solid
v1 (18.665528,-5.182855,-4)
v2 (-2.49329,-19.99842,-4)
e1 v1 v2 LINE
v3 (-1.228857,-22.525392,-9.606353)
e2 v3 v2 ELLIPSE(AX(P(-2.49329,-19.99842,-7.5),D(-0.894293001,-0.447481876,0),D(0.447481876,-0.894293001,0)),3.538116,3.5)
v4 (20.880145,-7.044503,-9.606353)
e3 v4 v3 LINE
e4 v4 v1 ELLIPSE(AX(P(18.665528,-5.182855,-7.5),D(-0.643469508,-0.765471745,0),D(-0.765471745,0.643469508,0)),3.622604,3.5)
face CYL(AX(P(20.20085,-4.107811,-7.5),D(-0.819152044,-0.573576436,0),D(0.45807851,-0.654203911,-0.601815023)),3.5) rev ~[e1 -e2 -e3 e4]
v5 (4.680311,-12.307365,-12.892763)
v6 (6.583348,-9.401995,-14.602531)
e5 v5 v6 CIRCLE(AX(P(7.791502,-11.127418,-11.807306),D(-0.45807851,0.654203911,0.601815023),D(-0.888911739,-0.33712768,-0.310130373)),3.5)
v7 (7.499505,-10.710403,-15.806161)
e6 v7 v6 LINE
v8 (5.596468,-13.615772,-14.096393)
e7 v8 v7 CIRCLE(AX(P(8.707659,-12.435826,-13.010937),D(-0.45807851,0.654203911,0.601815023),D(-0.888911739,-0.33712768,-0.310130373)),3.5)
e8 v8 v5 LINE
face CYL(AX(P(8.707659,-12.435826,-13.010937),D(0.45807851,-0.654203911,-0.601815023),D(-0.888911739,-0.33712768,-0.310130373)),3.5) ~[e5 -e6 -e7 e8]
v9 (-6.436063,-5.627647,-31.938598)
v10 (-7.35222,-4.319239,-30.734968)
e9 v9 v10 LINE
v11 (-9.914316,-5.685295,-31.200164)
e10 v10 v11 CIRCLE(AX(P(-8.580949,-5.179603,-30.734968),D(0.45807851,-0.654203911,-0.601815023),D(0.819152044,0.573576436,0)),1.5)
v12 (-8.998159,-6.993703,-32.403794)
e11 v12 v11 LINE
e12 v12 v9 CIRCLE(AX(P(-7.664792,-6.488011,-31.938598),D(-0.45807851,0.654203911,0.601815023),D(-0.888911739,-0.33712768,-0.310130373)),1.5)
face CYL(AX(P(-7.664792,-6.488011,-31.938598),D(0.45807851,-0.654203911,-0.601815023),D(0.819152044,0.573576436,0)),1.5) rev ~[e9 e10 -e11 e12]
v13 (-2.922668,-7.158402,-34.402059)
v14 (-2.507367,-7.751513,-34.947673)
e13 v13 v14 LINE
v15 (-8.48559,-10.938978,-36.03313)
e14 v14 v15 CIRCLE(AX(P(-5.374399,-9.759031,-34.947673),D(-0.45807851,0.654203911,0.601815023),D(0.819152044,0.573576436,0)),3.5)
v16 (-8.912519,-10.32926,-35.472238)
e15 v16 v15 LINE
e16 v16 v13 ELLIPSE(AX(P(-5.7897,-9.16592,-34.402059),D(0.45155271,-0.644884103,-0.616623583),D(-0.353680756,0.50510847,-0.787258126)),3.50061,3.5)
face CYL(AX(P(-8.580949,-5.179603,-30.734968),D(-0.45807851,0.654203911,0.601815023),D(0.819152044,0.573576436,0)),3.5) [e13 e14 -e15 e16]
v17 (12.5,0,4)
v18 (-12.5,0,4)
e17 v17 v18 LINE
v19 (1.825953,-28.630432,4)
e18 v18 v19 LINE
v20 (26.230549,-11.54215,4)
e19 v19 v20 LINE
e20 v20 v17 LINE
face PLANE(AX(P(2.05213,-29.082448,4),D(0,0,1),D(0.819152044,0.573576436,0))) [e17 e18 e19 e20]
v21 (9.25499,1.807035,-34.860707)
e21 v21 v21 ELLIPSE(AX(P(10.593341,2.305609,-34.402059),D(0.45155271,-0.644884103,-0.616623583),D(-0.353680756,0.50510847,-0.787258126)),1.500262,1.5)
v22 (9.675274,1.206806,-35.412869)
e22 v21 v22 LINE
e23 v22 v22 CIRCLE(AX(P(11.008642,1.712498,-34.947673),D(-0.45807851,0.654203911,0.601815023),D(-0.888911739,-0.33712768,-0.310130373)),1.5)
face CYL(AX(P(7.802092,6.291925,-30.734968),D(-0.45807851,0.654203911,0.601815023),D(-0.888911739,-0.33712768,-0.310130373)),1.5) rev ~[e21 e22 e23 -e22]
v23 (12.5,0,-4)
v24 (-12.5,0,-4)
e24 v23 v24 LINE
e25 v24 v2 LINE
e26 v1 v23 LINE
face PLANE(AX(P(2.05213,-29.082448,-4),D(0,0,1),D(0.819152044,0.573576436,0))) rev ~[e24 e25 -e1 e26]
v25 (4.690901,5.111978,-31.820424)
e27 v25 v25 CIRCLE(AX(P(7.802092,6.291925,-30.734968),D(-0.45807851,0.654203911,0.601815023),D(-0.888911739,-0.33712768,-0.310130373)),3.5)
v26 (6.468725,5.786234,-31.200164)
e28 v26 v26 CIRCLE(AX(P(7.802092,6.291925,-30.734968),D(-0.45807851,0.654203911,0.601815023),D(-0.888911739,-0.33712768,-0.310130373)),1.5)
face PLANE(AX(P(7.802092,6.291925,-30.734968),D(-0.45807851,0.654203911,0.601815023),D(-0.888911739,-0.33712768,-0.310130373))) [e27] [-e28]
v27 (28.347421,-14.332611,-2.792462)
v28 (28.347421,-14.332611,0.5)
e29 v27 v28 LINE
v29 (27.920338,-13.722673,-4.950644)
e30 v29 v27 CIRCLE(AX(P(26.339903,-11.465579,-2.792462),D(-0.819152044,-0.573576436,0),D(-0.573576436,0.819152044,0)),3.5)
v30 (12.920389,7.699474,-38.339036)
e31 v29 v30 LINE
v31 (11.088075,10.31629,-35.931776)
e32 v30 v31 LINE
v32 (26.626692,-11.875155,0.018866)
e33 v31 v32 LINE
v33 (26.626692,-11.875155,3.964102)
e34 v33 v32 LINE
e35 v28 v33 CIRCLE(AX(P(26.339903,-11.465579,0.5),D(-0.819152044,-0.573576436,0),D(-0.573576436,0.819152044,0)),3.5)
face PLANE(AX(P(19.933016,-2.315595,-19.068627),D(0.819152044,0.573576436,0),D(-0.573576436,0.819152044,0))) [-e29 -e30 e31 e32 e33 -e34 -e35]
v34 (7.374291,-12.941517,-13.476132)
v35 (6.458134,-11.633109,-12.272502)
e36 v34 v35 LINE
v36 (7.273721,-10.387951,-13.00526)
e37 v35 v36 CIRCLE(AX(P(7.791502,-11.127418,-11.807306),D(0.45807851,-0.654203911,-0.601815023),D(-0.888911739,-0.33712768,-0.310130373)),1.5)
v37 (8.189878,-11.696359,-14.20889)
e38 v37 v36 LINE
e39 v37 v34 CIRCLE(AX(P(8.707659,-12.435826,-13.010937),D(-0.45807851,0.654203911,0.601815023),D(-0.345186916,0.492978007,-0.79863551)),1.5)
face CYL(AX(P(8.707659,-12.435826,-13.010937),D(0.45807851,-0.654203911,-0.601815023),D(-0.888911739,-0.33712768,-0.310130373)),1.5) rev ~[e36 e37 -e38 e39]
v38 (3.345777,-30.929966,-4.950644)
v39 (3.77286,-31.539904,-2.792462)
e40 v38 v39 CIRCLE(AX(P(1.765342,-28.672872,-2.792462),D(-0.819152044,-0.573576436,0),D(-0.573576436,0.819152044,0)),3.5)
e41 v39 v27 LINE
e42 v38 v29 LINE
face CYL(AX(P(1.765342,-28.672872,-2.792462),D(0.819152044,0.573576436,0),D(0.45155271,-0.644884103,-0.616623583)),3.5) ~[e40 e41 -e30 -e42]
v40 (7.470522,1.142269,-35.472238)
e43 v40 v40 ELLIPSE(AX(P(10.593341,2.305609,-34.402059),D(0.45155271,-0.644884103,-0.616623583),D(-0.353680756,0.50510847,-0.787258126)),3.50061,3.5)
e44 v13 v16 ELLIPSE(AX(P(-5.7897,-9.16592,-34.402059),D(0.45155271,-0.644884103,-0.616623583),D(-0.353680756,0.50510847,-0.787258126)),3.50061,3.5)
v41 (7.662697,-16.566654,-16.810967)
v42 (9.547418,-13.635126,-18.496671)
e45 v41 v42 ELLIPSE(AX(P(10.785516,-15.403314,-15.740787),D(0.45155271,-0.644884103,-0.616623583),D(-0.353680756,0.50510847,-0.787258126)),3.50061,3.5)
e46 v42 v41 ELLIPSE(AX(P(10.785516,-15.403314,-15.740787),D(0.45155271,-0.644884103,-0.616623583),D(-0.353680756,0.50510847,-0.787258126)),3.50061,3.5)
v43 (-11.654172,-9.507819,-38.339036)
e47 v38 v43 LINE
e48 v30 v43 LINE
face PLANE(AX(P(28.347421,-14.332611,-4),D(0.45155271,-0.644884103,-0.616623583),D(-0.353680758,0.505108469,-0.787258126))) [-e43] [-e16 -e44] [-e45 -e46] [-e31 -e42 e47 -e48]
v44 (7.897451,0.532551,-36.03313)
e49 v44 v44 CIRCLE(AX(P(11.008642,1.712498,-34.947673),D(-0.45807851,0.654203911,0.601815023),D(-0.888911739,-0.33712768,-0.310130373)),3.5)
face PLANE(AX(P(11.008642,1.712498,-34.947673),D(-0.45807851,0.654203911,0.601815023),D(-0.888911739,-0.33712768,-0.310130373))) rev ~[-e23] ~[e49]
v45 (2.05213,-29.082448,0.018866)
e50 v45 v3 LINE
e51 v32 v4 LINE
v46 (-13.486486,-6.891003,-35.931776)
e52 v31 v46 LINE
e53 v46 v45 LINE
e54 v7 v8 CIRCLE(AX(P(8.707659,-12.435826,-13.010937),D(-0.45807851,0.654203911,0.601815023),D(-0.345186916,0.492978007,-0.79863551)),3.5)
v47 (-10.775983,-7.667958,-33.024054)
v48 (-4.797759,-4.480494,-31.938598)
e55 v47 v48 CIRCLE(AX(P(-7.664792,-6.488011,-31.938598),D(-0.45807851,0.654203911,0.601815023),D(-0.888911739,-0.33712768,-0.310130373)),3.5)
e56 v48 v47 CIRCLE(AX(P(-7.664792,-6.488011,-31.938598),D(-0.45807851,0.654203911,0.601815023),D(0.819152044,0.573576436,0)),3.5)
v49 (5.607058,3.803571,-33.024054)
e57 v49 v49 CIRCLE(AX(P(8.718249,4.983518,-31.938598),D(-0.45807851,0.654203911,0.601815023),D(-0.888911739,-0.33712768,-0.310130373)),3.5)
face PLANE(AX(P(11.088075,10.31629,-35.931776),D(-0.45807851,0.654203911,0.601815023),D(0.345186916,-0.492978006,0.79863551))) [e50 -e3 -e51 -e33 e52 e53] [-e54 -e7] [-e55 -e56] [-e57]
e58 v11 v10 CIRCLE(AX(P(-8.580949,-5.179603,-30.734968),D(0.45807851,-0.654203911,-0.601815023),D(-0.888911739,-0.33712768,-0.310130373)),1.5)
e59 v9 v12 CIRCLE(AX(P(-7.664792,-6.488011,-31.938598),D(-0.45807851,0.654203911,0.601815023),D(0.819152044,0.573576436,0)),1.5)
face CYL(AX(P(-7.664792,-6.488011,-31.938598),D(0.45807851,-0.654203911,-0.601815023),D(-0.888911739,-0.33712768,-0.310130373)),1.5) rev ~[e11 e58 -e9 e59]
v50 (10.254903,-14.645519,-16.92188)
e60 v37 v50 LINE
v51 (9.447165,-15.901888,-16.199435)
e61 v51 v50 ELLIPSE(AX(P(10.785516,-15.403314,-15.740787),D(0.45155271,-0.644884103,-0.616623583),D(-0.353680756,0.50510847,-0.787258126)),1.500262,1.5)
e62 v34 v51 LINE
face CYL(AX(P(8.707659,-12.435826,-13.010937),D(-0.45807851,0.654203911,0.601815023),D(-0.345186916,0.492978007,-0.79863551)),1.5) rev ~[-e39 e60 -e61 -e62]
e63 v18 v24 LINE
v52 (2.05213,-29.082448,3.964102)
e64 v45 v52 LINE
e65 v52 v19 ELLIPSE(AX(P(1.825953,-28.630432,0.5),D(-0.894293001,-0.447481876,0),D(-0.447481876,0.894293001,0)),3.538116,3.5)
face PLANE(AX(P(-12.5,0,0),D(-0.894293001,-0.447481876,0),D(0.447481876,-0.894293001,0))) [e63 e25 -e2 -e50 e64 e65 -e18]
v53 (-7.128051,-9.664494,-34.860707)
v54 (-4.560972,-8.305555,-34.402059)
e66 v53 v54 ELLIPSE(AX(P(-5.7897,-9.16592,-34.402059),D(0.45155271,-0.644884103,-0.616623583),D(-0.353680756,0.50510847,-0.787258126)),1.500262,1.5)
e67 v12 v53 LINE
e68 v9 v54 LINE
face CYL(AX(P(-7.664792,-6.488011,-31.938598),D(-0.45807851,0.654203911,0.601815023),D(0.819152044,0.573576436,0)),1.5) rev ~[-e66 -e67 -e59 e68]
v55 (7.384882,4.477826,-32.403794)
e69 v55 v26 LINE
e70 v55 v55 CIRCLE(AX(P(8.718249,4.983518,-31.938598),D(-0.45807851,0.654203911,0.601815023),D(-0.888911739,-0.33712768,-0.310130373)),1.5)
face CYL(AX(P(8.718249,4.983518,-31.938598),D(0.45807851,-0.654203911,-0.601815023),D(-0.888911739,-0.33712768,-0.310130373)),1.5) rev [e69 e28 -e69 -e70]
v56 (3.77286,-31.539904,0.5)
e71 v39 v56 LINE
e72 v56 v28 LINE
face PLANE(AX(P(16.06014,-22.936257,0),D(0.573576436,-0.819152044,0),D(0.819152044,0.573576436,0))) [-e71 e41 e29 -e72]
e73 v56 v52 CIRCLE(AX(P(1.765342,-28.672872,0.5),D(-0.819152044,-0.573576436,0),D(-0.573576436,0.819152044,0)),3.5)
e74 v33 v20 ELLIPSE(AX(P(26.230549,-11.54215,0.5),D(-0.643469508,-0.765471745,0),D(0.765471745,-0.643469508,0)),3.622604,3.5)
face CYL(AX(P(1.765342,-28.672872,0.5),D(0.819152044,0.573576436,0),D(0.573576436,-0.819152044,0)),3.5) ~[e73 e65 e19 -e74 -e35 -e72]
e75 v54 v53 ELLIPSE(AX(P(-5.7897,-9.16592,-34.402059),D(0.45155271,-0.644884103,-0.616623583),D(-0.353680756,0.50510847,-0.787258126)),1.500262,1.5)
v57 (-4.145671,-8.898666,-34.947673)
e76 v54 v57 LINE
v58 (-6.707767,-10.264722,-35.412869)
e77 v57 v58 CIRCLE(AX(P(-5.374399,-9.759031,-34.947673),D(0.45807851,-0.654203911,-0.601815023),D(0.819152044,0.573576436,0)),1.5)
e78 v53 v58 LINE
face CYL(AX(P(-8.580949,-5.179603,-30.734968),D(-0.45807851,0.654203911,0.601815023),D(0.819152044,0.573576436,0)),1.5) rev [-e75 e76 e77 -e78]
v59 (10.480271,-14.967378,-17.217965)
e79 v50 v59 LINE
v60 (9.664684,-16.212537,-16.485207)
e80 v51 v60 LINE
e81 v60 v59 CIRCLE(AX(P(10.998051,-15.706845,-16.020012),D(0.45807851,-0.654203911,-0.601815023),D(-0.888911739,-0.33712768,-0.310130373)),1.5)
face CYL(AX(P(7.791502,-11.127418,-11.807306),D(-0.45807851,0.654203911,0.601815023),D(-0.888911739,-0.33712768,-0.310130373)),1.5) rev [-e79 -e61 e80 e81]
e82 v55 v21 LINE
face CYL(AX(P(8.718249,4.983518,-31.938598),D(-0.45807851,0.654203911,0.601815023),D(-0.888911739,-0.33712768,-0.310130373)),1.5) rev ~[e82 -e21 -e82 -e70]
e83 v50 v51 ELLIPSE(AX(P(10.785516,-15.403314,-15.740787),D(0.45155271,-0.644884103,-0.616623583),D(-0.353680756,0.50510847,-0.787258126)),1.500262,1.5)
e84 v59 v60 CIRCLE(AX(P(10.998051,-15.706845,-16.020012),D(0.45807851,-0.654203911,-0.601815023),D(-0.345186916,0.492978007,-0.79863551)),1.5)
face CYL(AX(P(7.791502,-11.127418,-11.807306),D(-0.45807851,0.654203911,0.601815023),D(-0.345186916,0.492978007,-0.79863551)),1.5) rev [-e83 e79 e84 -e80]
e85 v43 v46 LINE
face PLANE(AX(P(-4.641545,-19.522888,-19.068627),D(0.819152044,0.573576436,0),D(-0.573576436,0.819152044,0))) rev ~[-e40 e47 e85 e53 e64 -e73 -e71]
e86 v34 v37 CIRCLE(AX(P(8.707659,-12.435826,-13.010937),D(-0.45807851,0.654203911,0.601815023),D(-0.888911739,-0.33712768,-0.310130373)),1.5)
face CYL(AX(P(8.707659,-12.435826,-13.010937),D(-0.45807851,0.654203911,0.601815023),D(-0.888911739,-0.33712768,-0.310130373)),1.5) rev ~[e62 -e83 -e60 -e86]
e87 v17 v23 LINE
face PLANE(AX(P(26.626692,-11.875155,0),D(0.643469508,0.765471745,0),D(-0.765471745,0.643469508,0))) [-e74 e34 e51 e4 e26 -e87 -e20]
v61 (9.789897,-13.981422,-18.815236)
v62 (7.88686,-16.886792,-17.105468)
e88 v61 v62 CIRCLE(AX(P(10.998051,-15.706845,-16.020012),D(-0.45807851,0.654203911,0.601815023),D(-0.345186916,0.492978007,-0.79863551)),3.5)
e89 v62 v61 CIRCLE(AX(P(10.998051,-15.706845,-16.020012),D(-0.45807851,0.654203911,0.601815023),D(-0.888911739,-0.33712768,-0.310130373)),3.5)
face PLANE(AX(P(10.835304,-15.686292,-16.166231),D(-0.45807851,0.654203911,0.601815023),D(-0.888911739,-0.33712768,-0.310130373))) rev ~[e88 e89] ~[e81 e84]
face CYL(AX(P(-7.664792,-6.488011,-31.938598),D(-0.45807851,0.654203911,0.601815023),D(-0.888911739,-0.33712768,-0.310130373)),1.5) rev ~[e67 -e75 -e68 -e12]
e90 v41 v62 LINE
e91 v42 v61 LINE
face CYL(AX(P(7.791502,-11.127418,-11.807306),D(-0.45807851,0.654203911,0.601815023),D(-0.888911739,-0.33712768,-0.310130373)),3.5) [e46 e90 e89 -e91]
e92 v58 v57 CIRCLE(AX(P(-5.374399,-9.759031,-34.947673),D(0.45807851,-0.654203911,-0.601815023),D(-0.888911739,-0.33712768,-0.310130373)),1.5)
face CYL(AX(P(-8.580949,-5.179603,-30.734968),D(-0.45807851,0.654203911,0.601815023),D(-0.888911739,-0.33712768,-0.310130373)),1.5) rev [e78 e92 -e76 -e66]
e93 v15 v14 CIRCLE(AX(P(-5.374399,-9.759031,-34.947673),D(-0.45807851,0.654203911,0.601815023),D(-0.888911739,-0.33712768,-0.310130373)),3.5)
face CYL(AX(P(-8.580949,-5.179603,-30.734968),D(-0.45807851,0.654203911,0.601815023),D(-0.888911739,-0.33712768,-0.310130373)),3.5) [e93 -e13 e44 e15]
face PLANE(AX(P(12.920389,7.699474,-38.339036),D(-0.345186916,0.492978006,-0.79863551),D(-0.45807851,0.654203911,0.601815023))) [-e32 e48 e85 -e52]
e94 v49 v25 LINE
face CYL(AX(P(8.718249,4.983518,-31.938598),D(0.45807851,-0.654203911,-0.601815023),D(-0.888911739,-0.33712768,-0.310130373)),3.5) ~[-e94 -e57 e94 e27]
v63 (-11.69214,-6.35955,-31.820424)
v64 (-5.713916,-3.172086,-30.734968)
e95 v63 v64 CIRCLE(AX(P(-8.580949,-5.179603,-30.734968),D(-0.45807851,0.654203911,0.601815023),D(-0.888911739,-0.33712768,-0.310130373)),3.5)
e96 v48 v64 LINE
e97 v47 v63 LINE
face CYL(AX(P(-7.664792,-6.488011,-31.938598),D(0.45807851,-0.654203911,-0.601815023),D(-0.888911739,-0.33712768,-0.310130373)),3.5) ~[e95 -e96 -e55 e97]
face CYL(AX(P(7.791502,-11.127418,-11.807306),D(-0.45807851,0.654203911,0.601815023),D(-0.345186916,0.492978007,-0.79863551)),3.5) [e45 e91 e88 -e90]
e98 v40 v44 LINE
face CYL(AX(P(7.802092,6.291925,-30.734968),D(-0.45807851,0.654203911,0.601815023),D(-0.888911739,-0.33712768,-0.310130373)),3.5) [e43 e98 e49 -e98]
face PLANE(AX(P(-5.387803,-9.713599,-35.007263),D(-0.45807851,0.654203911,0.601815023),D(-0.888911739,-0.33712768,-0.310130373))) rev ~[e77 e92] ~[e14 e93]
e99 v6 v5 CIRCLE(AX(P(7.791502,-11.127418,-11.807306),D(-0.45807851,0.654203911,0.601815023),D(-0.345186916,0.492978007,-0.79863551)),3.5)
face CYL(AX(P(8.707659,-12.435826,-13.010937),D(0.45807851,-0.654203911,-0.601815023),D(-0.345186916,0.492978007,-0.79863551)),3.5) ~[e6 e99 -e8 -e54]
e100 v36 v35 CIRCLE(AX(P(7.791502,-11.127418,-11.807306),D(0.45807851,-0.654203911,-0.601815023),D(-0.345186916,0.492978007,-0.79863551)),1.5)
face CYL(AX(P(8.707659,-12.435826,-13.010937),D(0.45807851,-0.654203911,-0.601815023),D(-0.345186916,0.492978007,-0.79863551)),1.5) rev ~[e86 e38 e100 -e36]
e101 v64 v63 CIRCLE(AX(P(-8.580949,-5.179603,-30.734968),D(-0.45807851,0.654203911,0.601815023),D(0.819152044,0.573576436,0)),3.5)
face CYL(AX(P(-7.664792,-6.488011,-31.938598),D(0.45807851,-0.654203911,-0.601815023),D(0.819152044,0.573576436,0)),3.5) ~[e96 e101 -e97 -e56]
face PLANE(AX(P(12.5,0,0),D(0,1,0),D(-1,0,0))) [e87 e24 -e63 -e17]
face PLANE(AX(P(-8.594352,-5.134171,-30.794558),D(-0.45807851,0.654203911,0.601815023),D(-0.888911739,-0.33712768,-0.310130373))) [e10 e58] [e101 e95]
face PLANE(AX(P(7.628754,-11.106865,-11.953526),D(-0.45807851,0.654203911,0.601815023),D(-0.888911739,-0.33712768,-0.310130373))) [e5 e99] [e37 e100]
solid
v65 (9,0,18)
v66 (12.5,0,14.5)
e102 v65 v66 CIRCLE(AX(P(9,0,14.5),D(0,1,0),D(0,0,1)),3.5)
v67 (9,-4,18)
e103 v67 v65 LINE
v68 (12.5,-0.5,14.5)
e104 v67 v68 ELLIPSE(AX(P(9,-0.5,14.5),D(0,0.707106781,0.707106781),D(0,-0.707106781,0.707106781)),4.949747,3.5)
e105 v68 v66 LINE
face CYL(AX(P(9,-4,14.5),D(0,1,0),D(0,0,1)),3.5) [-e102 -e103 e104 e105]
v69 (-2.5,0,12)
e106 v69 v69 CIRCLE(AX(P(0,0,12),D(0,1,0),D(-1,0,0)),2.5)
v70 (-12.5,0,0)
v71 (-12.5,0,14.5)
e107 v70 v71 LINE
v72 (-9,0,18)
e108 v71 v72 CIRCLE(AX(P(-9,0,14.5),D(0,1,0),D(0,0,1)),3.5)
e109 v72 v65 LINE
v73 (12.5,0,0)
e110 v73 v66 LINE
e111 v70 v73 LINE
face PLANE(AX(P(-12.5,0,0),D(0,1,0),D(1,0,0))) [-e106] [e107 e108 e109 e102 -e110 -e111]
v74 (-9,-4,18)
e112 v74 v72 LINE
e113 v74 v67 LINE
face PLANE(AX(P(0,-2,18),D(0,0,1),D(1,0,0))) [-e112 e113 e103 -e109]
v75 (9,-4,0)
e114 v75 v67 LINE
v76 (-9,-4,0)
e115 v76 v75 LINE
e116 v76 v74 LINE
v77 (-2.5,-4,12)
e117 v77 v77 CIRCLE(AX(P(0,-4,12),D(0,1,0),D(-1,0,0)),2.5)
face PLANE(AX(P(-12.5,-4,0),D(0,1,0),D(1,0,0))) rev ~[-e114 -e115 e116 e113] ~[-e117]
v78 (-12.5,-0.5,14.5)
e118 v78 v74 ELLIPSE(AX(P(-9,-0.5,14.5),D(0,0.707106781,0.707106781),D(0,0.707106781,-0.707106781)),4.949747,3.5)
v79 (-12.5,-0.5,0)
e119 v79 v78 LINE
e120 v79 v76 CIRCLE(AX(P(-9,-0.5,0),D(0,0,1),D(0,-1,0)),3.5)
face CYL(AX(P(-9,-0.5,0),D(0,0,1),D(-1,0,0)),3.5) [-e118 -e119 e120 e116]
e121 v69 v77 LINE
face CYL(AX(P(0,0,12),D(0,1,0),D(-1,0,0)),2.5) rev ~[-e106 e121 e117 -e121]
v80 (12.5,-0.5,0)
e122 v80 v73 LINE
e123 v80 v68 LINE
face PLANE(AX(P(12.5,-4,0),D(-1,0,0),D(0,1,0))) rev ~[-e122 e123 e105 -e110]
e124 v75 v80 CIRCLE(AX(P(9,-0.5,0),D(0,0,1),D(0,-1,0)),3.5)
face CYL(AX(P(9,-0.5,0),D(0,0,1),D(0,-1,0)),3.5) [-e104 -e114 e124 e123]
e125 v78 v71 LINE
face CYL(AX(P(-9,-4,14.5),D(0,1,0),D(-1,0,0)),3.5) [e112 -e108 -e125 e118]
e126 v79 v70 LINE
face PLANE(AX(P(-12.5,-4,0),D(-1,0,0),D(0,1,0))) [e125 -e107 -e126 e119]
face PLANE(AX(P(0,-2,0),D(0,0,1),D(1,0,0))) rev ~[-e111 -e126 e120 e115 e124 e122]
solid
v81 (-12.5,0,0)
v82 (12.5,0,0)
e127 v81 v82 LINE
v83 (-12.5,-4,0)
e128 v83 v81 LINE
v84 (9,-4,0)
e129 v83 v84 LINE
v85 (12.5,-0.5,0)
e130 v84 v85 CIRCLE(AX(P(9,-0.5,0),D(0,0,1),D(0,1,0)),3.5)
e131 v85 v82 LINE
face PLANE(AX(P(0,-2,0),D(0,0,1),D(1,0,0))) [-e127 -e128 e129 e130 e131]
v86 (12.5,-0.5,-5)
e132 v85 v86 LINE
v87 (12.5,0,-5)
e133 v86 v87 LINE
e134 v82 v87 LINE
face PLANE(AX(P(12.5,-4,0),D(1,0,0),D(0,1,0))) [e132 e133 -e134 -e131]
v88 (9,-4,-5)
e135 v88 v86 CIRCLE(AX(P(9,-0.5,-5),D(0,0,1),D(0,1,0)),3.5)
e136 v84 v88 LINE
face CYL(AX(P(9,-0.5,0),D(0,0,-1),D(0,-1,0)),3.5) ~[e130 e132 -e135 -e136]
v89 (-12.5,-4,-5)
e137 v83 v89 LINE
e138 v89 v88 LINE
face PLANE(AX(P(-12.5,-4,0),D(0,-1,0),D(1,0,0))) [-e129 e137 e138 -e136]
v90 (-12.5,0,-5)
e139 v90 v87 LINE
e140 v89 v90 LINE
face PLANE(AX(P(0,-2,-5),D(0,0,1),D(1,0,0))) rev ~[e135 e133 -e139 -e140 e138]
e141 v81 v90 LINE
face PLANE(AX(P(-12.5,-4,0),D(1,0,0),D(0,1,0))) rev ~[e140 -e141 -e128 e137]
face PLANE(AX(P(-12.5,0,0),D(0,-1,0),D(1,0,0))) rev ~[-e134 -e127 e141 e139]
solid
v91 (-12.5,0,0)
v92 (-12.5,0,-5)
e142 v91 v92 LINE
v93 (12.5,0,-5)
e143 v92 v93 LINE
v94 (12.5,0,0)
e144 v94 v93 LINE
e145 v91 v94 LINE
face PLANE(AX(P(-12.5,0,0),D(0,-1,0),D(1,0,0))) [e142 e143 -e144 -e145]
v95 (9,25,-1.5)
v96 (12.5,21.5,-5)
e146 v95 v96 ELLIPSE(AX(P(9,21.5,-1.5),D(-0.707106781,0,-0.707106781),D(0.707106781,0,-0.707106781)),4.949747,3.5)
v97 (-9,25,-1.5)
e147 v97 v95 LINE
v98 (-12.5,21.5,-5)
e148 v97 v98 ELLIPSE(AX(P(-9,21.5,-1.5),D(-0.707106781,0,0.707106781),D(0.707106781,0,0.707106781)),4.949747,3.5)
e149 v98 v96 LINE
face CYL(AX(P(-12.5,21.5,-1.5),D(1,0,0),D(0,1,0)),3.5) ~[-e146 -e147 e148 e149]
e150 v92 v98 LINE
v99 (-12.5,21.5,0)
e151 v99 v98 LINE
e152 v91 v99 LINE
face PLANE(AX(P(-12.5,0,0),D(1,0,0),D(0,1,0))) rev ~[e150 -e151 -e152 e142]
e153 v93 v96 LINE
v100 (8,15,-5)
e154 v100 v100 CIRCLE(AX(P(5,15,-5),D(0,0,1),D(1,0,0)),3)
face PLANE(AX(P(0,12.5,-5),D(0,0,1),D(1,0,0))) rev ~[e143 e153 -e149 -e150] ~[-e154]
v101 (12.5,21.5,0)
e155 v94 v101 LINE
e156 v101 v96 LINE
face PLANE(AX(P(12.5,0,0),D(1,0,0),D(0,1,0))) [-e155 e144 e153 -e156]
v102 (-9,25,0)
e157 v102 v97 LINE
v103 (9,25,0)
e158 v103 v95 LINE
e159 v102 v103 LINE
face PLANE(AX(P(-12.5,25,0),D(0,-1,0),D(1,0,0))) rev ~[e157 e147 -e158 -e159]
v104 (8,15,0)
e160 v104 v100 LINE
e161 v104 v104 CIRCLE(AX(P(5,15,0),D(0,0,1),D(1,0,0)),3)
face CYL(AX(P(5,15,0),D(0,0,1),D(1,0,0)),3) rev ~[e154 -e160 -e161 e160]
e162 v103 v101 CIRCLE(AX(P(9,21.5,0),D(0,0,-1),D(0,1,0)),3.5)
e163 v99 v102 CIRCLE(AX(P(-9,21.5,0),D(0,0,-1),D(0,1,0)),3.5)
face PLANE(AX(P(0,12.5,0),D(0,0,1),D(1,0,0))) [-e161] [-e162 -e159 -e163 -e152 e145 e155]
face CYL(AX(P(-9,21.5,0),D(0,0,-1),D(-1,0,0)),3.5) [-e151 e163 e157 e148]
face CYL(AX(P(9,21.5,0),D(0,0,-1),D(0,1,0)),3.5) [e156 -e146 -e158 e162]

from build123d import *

# Parameters (mm, degrees)
F0_W      = 25
F0_H      = 25
F0_R      = 3
F1_DEPTH  = 5
F0_H_2    = 4
F2_DEPTH  = 18
F3_DEPTH  = 5
F4_R      = 2.5
F5_DEPTH  = 4
F7_DEPTH  = 4
F8_W      = 30
F8_H      = 8
F9_DEPTH  = 3
F11_DEPTH = 30
F12_R     = 3.5
F12_2_R   = 3.5
F12_3_R   = 3.5
F12_4_R   = 3.5
F13_R     = 3.5
F13_R_2   = 1.5
F14_DEPTH = 2
F15_DEPTH = 10
F16_DEPTH = 7


with BuildPart() as f1:
    # F0 (on Top) → F1 (new body)
    with BuildSketch(Plane.XY):
        with Locations((0, 12.5)):
            Rectangle(F0_W, F0_H)
        with Locations((5, 15)):
            Circle(F0_R, mode=Mode.SUBTRACT)
    extrude(amount=-F1_DEPTH)

    # F12
    f12_edges = [f1.edges().sort_by_distance(p)[0] for p in [
        (0, 25, -5),
        (12.5, 25, -2.5),
        (-12.5, 25, -2.5),
    ]]
    fillet(f12_edges, radius=F12_R)


with BuildPart() as f2:
    # F0 (on Top) → F2 (new body)
    with BuildSketch(Plane.XY):
        with Locations((0, -2)):
            Rectangle(F0_W, F0_H_2)
    extrude(amount=F2_DEPTH)


with BuildPart() as f3:
    # F3 (new): a face of the model
    f3_faces = [f2.part.faces().sort_by_distance(p)[0] for p in [
        (0, -2, 0),
    ]]
    extrude(f3_faces, amount=F3_DEPTH)

    # F12#3
    f12_3_edges = [f3.edges().sort_by_distance(p)[0] for p in [
        (12.5, -4, -2.5),
    ]]
    fillet(f12_3_edges, radius=F12_3_R)


with BuildPart() as f2_1:
    add(f2.part)

    # F4 (on face) → F5 (cut)
    with BuildSketch(Plane(origin=(0, 0, 0), x_dir=(-1, 0, 0), z_dir=(0, 1, 0))):
        with Locations((0, 12)):
            Circle(F4_R)
    extrude(amount=-F5_DEPTH, mode=Mode.SUBTRACT)

    # F12#2
    f12_2_edges = [f2_1.edges().sort_by_distance(p)[0] for p in [
        (12.5, -4, 9),
        (-12.5, -2, 18),
        (12.5, -2, 18),
        (-12.5, -4, 9),
    ]]
    fillet(f12_2_edges, radius=F12_2_R)


with BuildPart() as f7:
    # F6 (on Top) → F7 (new body, symmetric)
    with BuildSketch(Plane.XY):
        Polygon((14.3394109088, -20.4788011072), (0, 0), (-12.5, 0), (2.0521302444, -29.0824476525), align=None)
        Polygon((12.5, 0), (0, 0), (14.3394109088, -20.4788011072), (26.6266915731, -11.875154562), align=None)
    extrude(amount=F7_DEPTH, both=True)

    # F8 (on face) → F9 (join)
    with BuildSketch(Plane(origin=(14.3394109088, -20.4788011072, 0), x_dir=(0.8191520443, 0.5735764364, 0), z_dir=(0.5735764364, -0.8191520443, 0))):
        Rectangle(F8_W, F8_H)
    extrude(amount=F9_DEPTH)

    # F10 (on face) → F11 (join, through all)
    with BuildSketch(Plane(origin=(12.2872806643, 8.6036465453, 0), x_dir=(-0.5735764364, 0.8191520443, 0), z_dir=(0.8191520443, 0.5735764364, 0))):
        Polygon((-1.1037908826, -38.339035595), (2.0907511576, -35.9317755024), (-25, 0.0188655351), (-25, -4), (-28, -4), align=None)
        Polygon((-25, -4), (-25, 0.0188655351), (-28, 4), (-28, -4), align=None)
    extrude(amount=-F11_DEPTH)

    # F12#4
    f12_4_edges = [f7.edges().sort_by_distance(p)[0] for p in [
        (16.06014, -22.936257, 4),
        (16.06014, -22.936257, -4),
        (12.454755, -18.101418, -4),
    ]]
    fillet(f12_4_edges, radius=F12_4_R)

    # F13 (on face) → F15 (cut, symmetric)
    with BuildSketch(Plane(origin=(9.1407432849, -13.0543343024, -12.0089384548), x_dir=(-0.8889117385, -0.3371276804, -0.3101303729), z_dir=(-0.4580785098, 0.6542039107, 0.6018150232))):
        with Locations((0.4752934415, -26.8795094532)):
            Circle(F13_R_2)
        with BuildLine():
            ThreePointArc((1.9872074921, -1.1561765378), (-0.7625388666, -0.3266380884), (1.06969544, -2.5384600798))
            ThreePointArc((1.06969544, -2.5384600798), (1.7369538507, -1.9857149872), (1.9872074921, -1.1561765378))
        make_face()
        with BuildLine():
            ThreePointArc((20.4057406689, -19.1130034801), (18.6086088067, -17.6427270923), (17.5234571269, -19.695491428))
            ThreePointArc((17.5234571269, -19.695491428), (19.202872531, -20.5832798679), (20.4057406689, -19.1130034801))
        make_face()
    extrude(amount=F15_DEPTH, both=True, mode=Mode.SUBTRACT)



with BuildPart() as f14:
    # F13 (on face) → F14 (new body)
    with BuildSketch(Plane(origin=(9.1407432849, -13.0543343024, -12.0089384548), x_dir=(-0.8889117385, -0.3371276804, -0.3101303729), z_dir=(-0.4580785098, 0.6542039107, 0.6018150232))):
        with BuildLine():
            ThreePointArc((3.9872074921, -1.1561765378), (-2.4288673448, 0.7794131775), (1.8463460373, -4.3815048024))
            ThreePointArc((1.8463460373, -4.3815048024), (3.4032823289, -3.091766253), (3.9872074921, -1.1561765378))
        make_face()
        with BuildLine():
            ThreePointArc((1.9872074921, -1.1561765378), (1.7369538507, -1.9857149872), (1.06969544, -2.5384600798))
            ThreePointArc((1.06969544, -2.5384600798), (-0.7625388666, -0.3266380884), (1.9872074921, -1.1561765378))
        make_face(mode=Mode.SUBTRACT)
        with Locations((0.4752934415, -26.8795094532)):
            Circle(F13_R)
        with Locations((0.4752934415, -26.8795094532)):
            Circle(F13_R_2, mode=Mode.SUBTRACT)
        with BuildLine():
            ThreePointArc((22.4057406689, -19.1130034801), (18.2124329906, -15.6823585752), (15.6804124042, -20.4721420253))
            ThreePointArc((15.6804124042, -20.4721420253), (19.5990483472, -22.5436483849), (22.4057406689, -19.1130034801))
        make_face()
        with BuildLine():
            ThreePointArc((20.4057406689, -19.1130034801), (19.202872531, -20.5832798679), (17.5234571269, -19.695491428))
            ThreePointArc((17.5234571269, -19.695491428), (18.6086088067, -17.6427270923), (20.4057406689, -19.1130034801))
        make_face(mode=Mode.SUBTRACT)
    extrude(amount=F14_DEPTH)


with BuildPart() as f7_1:
    add(f7.part)
    # F16 (add): faces of the model
    f16_faces = [f14.part.faces().sort_by_distance(p)[0] for p in [
        (8.9654842523, -12.8040384631, -9.0911430873),
        (10.8252856581, 7.4384982699, -29.6802130839),
        (-11.3668887804, -7.1303397584, -30.7349680486),
    ]]

    add(f14.part)  # F16 merges F14
    extrude(f16_faces, amount=-F16_DEPTH)


solid = Compound([f1.part, f3.part, f2_1.part, f7_1.part])
